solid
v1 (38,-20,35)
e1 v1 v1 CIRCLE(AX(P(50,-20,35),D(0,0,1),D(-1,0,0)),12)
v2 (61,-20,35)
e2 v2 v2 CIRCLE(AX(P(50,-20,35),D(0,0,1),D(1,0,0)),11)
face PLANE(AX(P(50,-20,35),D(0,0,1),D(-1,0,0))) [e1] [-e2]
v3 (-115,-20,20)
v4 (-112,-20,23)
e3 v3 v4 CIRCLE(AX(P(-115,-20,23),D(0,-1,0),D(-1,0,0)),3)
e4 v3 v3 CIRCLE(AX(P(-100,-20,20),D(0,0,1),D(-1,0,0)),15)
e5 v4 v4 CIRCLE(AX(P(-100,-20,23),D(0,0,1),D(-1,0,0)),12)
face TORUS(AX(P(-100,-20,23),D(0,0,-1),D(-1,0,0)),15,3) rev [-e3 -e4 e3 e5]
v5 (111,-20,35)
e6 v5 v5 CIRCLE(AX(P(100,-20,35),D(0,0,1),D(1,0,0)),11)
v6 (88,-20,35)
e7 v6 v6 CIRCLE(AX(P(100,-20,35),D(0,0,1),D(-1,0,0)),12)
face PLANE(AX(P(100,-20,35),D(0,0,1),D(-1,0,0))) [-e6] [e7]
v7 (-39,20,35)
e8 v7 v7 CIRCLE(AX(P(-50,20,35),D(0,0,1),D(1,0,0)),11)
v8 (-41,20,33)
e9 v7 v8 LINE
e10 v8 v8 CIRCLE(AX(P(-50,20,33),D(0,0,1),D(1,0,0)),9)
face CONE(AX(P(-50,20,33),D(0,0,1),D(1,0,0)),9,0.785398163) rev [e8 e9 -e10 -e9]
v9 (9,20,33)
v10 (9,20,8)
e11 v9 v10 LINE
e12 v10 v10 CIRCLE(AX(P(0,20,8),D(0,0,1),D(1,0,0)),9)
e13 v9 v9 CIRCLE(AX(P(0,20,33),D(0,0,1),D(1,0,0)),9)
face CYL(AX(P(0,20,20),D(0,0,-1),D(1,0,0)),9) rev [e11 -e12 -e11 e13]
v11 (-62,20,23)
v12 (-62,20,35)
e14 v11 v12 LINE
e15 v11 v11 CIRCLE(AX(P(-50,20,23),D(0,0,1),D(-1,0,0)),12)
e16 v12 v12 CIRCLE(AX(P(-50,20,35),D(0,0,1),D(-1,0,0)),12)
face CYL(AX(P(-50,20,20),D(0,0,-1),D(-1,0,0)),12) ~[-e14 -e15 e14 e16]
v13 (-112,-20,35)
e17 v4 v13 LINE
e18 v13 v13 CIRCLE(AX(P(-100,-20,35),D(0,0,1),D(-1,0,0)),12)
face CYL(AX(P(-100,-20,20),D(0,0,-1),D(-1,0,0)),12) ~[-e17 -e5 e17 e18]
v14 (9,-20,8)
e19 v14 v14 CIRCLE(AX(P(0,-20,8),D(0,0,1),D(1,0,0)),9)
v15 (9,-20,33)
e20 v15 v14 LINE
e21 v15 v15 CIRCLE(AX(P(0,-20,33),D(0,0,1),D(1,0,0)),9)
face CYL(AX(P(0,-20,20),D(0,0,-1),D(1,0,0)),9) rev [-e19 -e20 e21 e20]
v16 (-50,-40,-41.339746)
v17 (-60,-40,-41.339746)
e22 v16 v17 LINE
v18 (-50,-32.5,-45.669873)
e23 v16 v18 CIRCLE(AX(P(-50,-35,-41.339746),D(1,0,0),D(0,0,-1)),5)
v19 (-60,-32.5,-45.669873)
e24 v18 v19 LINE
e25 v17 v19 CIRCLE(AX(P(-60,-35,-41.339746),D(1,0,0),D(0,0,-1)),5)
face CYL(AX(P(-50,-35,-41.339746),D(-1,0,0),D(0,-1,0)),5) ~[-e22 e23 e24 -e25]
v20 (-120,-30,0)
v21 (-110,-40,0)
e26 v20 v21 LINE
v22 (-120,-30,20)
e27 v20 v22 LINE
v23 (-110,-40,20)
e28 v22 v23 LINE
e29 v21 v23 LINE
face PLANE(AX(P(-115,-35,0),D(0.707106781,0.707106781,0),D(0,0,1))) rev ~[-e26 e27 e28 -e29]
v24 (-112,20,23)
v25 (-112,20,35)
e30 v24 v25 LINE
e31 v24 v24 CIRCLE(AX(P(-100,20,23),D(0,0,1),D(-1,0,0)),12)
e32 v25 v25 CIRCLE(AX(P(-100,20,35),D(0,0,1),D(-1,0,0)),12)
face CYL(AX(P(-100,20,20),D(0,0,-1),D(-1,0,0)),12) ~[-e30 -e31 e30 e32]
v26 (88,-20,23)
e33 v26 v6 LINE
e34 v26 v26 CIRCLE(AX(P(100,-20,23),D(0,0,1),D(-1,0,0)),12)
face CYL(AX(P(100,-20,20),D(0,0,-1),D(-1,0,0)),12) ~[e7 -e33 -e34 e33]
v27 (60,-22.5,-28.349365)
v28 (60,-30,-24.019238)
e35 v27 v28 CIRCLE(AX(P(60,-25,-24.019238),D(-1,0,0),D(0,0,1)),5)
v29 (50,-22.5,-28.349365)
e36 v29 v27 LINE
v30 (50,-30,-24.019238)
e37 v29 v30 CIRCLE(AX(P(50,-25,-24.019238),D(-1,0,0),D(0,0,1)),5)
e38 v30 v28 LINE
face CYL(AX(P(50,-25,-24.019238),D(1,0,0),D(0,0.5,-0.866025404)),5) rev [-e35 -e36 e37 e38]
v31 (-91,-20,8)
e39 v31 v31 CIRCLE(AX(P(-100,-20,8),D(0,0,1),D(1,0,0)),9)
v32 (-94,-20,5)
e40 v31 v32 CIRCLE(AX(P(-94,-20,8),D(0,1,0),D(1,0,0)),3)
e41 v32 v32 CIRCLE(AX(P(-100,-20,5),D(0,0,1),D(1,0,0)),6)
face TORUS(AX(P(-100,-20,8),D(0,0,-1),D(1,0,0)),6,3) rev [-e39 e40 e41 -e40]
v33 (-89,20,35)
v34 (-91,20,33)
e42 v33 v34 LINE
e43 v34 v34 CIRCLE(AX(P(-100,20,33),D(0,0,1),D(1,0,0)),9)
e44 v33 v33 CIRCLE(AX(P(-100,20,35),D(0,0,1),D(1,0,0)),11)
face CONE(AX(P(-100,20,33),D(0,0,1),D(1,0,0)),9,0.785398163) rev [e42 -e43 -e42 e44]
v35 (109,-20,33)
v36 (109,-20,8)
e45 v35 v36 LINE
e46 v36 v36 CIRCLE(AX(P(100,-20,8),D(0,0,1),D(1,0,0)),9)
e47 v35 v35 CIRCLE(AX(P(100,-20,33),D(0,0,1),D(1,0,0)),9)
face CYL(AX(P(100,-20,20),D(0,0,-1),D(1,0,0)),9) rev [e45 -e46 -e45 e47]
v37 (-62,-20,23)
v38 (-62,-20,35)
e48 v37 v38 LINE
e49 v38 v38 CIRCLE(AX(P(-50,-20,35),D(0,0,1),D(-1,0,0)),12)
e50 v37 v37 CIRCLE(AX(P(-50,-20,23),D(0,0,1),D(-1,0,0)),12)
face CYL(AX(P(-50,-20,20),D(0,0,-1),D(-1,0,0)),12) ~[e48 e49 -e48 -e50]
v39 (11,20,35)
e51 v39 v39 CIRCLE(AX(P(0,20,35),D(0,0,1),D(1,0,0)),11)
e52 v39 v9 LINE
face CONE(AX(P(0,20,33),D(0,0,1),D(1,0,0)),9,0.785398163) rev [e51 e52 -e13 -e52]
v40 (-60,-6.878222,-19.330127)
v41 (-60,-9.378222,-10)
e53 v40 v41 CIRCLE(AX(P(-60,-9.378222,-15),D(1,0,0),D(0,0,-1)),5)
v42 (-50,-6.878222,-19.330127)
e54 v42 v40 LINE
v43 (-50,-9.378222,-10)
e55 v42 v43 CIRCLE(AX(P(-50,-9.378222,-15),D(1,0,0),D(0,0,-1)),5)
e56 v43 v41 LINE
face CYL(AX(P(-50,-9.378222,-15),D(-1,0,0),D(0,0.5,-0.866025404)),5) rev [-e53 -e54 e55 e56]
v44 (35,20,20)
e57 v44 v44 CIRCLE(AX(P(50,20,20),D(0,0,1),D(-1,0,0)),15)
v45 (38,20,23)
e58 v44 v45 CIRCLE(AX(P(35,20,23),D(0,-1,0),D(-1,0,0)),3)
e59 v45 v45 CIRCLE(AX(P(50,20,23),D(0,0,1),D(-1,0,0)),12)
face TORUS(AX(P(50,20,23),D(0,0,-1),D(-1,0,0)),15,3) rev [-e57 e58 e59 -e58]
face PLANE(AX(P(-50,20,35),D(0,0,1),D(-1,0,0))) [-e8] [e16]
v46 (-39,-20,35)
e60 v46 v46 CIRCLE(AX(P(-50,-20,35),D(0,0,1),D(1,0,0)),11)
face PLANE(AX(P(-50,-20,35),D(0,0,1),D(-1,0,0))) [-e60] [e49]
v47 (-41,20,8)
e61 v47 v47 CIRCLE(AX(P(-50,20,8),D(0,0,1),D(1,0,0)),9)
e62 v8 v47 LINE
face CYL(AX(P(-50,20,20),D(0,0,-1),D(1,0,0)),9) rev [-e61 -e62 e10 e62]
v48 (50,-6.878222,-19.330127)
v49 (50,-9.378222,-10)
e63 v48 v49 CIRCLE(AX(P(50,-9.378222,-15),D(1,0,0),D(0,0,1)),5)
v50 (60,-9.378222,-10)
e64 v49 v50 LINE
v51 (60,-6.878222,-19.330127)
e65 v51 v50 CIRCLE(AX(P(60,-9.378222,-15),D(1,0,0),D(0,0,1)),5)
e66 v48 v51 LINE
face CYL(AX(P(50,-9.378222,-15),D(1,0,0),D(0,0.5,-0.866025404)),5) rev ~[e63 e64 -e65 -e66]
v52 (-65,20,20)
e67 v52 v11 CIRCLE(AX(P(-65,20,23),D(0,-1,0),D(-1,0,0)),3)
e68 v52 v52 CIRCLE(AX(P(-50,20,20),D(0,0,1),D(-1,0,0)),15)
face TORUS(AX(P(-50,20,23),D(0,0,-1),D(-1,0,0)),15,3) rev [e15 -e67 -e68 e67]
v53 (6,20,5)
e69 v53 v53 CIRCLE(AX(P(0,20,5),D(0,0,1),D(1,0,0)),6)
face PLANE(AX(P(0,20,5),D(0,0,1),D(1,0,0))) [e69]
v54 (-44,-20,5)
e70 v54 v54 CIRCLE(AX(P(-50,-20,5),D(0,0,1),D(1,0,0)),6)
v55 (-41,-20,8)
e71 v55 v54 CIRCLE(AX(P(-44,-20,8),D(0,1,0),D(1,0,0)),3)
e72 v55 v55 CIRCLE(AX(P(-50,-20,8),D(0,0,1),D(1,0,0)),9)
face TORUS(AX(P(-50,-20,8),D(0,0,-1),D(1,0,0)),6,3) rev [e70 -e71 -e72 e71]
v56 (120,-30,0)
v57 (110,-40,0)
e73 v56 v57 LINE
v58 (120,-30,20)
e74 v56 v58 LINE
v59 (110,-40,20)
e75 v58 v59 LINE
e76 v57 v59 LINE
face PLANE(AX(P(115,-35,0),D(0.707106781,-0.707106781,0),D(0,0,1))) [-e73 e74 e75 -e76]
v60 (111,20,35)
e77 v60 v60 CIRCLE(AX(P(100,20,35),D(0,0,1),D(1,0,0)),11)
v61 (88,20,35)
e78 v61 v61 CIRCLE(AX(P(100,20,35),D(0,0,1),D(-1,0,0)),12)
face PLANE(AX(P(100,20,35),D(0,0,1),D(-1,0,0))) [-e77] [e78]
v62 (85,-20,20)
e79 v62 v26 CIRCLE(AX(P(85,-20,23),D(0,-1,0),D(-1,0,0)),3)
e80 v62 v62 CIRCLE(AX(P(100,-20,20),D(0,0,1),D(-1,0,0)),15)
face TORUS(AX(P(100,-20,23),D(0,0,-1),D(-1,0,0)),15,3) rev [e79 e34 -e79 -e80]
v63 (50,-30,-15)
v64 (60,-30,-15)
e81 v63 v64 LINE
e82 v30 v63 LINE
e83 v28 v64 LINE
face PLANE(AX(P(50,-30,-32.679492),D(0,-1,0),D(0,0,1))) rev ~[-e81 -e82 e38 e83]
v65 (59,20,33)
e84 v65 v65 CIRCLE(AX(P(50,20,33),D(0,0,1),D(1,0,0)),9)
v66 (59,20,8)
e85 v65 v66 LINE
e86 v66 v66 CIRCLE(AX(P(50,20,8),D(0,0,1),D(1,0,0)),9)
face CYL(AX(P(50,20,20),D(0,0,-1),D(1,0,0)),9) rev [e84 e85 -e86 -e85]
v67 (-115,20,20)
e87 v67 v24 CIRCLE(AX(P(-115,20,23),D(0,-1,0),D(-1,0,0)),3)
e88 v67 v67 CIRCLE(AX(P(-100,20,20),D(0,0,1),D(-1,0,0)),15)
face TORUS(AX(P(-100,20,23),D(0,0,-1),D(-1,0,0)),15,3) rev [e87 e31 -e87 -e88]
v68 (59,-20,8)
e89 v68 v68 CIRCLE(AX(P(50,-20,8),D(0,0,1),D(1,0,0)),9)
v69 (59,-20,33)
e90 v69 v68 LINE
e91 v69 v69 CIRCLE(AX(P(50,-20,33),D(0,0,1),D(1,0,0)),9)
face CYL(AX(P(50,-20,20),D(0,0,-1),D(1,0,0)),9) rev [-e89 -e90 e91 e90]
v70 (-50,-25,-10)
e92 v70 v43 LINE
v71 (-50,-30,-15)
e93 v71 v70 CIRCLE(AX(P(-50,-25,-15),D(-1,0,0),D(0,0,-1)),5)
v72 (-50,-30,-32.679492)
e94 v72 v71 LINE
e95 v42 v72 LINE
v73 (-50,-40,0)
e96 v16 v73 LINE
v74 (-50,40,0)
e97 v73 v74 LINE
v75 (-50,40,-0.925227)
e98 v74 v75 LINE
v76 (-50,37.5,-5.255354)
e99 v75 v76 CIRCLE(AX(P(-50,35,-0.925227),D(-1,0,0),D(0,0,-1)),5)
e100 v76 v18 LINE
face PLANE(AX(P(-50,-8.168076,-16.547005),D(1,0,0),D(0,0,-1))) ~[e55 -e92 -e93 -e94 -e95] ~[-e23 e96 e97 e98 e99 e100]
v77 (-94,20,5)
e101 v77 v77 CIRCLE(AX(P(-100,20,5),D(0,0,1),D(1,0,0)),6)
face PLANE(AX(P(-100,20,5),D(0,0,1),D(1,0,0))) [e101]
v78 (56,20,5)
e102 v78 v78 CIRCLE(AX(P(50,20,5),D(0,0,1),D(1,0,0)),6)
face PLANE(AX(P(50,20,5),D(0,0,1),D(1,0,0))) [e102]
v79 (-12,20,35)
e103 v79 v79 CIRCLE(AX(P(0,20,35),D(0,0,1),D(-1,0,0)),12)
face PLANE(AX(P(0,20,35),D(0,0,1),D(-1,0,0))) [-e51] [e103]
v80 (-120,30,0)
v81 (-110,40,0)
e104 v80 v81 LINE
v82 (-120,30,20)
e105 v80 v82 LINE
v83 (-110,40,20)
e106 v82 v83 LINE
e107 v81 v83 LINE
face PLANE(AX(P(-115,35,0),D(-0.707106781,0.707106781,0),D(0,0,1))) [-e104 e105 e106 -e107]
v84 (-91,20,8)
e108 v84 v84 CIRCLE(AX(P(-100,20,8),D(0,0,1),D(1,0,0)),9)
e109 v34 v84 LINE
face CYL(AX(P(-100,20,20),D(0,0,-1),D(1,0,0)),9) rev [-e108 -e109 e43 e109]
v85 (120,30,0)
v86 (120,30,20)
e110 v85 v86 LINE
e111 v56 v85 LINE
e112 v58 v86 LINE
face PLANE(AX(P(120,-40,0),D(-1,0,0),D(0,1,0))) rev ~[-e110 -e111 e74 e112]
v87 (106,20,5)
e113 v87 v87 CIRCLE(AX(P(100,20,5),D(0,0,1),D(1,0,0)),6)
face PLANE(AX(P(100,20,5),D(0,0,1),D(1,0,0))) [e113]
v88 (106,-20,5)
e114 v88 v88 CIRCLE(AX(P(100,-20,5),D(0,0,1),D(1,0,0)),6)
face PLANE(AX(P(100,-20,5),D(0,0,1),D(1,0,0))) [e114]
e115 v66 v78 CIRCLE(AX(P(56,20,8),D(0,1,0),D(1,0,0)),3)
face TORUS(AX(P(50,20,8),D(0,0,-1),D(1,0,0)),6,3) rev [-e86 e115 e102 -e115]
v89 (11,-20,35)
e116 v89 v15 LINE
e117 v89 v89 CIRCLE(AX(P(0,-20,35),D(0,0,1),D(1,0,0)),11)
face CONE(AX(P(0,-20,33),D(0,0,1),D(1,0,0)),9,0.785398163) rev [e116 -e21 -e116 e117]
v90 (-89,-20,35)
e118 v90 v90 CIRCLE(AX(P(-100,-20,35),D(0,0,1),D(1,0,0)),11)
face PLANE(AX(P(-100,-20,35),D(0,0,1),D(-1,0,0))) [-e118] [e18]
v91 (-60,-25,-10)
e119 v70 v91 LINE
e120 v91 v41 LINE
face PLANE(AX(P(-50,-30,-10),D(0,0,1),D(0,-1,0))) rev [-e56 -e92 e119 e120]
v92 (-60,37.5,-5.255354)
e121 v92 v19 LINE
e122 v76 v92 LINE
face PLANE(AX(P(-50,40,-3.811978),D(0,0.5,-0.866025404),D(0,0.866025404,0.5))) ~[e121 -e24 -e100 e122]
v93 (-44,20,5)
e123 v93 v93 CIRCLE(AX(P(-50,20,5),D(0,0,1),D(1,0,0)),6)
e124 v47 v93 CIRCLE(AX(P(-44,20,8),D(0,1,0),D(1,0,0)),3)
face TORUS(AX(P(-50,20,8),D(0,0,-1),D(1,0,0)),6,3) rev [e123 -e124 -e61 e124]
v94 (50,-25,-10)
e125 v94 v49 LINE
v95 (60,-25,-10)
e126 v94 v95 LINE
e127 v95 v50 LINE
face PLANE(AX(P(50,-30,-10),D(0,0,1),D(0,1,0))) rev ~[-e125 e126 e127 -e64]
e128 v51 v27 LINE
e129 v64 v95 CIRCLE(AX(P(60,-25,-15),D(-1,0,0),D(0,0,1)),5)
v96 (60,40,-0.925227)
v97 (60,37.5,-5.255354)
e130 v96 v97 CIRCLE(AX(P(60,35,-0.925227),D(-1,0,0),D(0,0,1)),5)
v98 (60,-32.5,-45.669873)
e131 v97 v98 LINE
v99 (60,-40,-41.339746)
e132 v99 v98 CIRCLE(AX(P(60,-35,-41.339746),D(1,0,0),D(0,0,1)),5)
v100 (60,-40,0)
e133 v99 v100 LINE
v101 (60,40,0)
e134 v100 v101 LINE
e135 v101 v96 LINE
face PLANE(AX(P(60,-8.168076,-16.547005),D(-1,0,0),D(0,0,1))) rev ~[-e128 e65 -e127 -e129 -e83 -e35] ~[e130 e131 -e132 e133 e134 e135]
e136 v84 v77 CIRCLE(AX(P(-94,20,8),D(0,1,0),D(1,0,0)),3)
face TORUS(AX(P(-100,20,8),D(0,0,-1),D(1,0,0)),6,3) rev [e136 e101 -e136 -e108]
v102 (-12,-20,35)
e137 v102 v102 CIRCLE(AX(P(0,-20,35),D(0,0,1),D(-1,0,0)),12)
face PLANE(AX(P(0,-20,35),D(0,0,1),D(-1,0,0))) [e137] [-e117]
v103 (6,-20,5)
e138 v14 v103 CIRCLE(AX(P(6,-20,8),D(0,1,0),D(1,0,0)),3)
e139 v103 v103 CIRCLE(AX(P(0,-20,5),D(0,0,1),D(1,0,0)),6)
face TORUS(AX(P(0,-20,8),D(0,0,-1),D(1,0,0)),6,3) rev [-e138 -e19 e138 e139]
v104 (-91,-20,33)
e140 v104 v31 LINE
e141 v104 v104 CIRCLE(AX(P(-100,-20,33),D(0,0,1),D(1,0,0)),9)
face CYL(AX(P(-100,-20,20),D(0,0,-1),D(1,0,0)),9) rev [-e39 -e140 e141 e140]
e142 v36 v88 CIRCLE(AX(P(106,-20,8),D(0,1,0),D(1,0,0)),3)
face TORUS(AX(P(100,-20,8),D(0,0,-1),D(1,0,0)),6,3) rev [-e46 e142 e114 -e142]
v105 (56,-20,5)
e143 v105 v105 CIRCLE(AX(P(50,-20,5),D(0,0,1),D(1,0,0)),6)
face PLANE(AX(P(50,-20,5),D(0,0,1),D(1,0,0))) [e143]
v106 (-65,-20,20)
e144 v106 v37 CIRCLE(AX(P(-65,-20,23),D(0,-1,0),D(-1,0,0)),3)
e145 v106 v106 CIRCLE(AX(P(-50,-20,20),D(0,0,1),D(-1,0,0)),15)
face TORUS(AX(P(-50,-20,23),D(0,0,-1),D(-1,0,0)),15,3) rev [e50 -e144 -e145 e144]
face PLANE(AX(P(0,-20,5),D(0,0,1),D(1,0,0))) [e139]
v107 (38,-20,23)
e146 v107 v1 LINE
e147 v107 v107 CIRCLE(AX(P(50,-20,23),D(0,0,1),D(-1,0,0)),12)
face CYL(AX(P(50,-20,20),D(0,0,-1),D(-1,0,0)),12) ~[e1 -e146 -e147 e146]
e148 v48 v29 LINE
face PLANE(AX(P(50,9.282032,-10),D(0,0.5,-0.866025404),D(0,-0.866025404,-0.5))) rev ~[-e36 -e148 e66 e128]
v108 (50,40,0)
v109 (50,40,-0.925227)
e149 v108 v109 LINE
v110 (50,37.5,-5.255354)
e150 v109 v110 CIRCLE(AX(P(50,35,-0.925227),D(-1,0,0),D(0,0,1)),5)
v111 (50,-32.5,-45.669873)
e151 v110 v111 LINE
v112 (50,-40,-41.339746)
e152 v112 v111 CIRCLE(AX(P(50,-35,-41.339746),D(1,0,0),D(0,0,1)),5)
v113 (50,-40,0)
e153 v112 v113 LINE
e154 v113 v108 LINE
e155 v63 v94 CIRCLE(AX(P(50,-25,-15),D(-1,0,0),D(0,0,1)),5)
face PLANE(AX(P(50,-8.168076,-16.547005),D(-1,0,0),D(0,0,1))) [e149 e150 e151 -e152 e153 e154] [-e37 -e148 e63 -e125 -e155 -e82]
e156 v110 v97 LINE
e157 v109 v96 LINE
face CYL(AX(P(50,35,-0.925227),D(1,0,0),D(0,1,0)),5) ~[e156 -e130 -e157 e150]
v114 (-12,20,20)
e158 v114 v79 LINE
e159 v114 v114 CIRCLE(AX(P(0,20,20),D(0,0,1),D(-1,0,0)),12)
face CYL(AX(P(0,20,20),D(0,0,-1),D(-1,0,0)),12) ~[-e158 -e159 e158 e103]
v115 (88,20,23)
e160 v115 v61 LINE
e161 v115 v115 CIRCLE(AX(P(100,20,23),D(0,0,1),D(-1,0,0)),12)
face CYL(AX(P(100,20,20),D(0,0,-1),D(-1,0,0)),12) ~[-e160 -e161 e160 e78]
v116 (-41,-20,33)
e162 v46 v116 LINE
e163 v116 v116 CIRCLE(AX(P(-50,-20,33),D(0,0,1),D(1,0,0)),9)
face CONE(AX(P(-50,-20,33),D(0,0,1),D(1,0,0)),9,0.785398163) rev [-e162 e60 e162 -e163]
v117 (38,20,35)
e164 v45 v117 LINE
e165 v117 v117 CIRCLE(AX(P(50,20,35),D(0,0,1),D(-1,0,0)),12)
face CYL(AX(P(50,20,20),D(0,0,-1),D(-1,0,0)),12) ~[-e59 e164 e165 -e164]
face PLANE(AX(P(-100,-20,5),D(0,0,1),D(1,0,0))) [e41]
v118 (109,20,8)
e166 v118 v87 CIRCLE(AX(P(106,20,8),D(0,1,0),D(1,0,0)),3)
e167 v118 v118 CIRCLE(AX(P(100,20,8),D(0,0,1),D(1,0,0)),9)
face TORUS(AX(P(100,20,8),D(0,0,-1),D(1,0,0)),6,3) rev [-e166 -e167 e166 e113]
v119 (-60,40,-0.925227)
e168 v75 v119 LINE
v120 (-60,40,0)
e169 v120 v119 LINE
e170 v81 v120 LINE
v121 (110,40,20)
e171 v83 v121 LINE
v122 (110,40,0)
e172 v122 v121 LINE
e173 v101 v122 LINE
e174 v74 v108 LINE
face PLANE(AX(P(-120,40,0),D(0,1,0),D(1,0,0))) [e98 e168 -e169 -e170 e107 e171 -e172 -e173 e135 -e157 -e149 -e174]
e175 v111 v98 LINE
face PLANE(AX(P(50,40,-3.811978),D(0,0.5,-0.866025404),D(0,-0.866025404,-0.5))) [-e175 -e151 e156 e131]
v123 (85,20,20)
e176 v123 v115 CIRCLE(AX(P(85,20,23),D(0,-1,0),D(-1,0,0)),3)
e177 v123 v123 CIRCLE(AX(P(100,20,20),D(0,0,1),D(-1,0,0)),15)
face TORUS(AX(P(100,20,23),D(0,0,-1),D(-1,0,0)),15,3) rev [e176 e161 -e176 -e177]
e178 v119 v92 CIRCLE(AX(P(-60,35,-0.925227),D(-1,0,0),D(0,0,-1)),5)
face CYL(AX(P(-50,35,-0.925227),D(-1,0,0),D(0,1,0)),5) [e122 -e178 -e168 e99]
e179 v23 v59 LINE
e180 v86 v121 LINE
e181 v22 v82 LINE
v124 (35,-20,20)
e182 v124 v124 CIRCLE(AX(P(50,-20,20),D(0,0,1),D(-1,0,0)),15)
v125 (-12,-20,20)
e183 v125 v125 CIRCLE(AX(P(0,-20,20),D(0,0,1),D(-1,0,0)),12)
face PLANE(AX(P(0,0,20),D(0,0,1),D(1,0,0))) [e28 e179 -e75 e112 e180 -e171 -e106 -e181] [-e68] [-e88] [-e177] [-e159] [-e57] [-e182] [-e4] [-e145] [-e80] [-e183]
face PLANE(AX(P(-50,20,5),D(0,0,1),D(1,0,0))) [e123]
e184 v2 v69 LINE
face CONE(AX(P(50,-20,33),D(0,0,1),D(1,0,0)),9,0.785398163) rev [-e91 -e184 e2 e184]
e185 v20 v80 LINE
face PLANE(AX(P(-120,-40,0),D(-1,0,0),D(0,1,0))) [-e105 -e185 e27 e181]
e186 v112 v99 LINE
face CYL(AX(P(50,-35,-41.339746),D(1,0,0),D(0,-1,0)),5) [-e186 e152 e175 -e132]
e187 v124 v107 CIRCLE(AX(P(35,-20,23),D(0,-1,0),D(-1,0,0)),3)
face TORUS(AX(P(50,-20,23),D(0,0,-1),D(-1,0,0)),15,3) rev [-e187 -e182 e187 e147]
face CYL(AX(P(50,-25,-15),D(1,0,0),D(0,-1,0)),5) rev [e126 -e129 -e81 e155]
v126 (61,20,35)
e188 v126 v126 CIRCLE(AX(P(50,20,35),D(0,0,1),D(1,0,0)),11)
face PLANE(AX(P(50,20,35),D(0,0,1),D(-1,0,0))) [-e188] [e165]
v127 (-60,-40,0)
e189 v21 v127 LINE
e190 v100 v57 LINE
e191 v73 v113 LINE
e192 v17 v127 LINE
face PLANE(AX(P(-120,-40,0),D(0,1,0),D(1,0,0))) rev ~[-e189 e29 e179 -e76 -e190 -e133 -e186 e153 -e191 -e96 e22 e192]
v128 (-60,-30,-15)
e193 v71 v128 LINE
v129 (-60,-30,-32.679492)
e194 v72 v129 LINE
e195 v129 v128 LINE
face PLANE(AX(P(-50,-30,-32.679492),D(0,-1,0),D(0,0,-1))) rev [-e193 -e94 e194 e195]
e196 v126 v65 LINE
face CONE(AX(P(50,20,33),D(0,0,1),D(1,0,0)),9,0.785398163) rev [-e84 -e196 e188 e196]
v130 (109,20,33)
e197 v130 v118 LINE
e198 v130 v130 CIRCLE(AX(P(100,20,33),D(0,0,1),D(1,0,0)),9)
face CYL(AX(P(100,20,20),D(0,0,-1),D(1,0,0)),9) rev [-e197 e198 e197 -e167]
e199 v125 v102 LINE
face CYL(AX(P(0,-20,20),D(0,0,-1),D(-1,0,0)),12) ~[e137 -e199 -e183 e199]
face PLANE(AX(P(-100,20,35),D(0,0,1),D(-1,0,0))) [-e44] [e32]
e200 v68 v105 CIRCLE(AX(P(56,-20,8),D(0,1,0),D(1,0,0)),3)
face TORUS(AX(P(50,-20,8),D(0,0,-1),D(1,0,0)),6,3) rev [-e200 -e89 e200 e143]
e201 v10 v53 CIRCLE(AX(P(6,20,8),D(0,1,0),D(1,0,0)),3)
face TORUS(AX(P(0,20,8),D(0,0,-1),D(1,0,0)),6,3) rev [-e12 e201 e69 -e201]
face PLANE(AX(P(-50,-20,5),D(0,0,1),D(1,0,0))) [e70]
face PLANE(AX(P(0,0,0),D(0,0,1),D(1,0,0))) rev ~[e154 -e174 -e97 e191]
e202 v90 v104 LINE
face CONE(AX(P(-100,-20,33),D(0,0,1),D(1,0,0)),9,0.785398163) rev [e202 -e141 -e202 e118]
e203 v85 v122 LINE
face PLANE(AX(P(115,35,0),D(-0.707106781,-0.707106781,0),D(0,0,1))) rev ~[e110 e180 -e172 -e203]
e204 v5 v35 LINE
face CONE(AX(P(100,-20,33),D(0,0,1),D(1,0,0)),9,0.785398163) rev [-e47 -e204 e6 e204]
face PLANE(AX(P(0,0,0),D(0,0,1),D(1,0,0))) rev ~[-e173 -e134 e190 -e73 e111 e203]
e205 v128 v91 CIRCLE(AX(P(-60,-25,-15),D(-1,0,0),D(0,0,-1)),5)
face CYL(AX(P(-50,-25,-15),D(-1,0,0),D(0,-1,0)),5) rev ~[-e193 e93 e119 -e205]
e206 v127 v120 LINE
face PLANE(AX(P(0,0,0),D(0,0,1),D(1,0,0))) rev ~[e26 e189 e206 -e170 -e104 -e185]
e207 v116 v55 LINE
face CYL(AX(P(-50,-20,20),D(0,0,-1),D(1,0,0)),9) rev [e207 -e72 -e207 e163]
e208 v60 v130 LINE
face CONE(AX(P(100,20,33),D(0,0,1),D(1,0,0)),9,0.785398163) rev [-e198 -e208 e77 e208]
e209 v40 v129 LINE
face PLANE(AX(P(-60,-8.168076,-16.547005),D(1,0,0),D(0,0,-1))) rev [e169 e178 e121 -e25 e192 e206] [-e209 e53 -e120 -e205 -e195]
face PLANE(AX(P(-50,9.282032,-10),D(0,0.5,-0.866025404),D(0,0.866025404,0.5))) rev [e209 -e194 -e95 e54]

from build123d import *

# Parameters (mm, degrees)
SKETCH_1_W          = 240
SKETCH_1_H          = 80
EXTRUDE_1_DEPTH     = 20
SKETCH_2_R          = 12
SKETCH_2_R_2        = 9
EXTRUDE_2_DEPTH     = 15
CUT_EXTRUDE_START   = -15
SKETCH_3_R          = 9
CUT_EXTRUDE_1_DEPTH = 15
CHAMFER_1_SIZE      = 10
FILLET_1_R          = 3
CHAMFER_2_SIZE      = 2
EXTRUDE_START       = 50
EXTRUDE_3_DEPTH     = 10
FILLET_2_R          = 5


with BuildPart() as part:
    # 草图1 → 凸台-拉伸1 (new body)
    with BuildSketch(Plane.XY):
        Rectangle(SKETCH_1_W, SKETCH_1_H)
    extrude(amount=EXTRUDE_1_DEPTH)

    # 草图2 → 凸台-拉伸2 (add)
    # profile 1 of 10: a face of its own
    with BuildSketch(Plane.XY.offset(20)):
        with Locations(Location((-100, 20, 0), (0, 0, 180))):
            Circle(SKETCH_2_R)
        with Locations((-100, 20)):
            Circle(SKETCH_2_R_2, mode=Mode.SUBTRACT)
    # profile 2 of 10: a face of its own
    with BuildSketch(Plane.XY.offset(20)):
        with Locations(Location((-50, 20, 0), (0, 0, 180))):
            Circle(SKETCH_2_R)
        with Locations((-50, 20)):
            Circle(SKETCH_2_R_2, mode=Mode.SUBTRACT)
    # profile 3 of 10: a face of its own
    with BuildSketch(Plane.XY.offset(20)):
        with Locations(Location((0, 20, 0), (0, 0, 180))):
            Circle(SKETCH_2_R)
        with Locations((0, 20)):
            Circle(SKETCH_2_R_2, mode=Mode.SUBTRACT)
    # profile 4 of 10: a face of its own
    with BuildSketch(Plane.XY.offset(20)):
        with Locations(Location((50, 20, 0), (0, 0, 180))):
            Circle(SKETCH_2_R)
        with Locations((50, 20)):
            Circle(SKETCH_2_R_2, mode=Mode.SUBTRACT)
    # profile 5 of 10: a face of its own
    with BuildSketch(Plane.XY.offset(20)):
        with Locations(Location((100, 20, 0), (0, 0, 180))):
            Circle(SKETCH_2_R)
        with Locations((100, 20)):
            Circle(SKETCH_2_R_2, mode=Mode.SUBTRACT)
    # profile 6 of 10: a face of its own
    with BuildSketch(Plane.XY.offset(20)):
        with Locations(Location((-50, -20, 0), (0, 0, 180))):
            Circle(SKETCH_2_R)
        with Locations((-50, -20)):
            Circle(SKETCH_2_R_2, mode=Mode.SUBTRACT)
    # profile 7 of 10: a face of its own
    with BuildSketch(Plane.XY.offset(20)):
        with Locations(Location((0, -20, 0), (0, 0, 180))):
            Circle(SKETCH_2_R)
        with Locations((0, -20)):
            Circle(SKETCH_2_R_2, mode=Mode.SUBTRACT)
    # profile 8 of 10: a face of its own
    with BuildSketch(Plane.XY.offset(20)):
        with Locations(Location((50, -20, 0), (0, 0, 180))):
            Circle(SKETCH_2_R)
        with Locations((50, -20)):
            Circle(SKETCH_2_R_2, mode=Mode.SUBTRACT)
    # profile 9 of 10: a face of its own
    with BuildSketch(Plane.XY.offset(20)):
        with Locations(Location((100, -20, 0), (0, 0, 180))):
            Circle(SKETCH_2_R)
        with Locations((100, -20)):
            Circle(SKETCH_2_R_2, mode=Mode.SUBTRACT)
    # profile 10 of 10: a face of its own
    with BuildSketch(Plane.XY.offset(20)):
        with Locations(Location((-100, -20, 0), (0, 0, 180))):
            Circle(SKETCH_2_R)
        with Locations((-100, -20)):
            Circle(SKETCH_2_R_2, mode=Mode.SUBTRACT)
    extrude(amount=EXTRUDE_2_DEPTH)

    # 草图3 → 切除-拉伸1 (cut)
    with BuildSketch(Plane.XY.offset(20).offset(CUT_EXTRUDE_START)):
        with Locations((-100, 20)):
            Circle(SKETCH_3_R)
        with Locations((-50, 20)):
            Circle(SKETCH_3_R)
        with Locations((0, 20)):
            Circle(SKETCH_3_R)
        with Locations((50, 20)):
            Circle(SKETCH_3_R)
        with Locations((100, 20)):
            Circle(SKETCH_3_R)
        with Locations((-50, -20)):
            Circle(SKETCH_3_R)
        with Locations((0, -20)):
            Circle(SKETCH_3_R)
        with Locations((50, -20)):
            Circle(SKETCH_3_R)
        with Locations((100, -20)):
            Circle(SKETCH_3_R)
        with Locations((-100, -20)):
            Circle(SKETCH_3_R)
    extrude(amount=CUT_EXTRUDE_1_DEPTH, mode=Mode.SUBTRACT)

    # 倒角1
    chamfer_1_edges = [part.edges().sort_by_distance(p)[0] for p in [
        (120, -40, 10),
        (-120, -40, 10),
        (-120, 40, 10),
        (120, 40, 10),
    ]]
    chamfer(chamfer_1_edges, length=CHAMFER_1_SIZE)

    # 圆角1
    fillet_1_edges = [part.edges().sort_by_distance(p)[0] for p in [
        (-109, 20, 5),
        (-38, 20, 20),
        (-88, 20, 20),
        (62, 20, 20),
        (112, 20, 20),
        (-38, -20, 20),
        (62, -20, 20),
        (112, -20, 20),
        (-88, -20, 20),
        (-109, -20, 5),
        (91, -20, 5),
        (41, -20, 5),
        (-9, -20, 5),
        (-59, -20, 5),
        (91, 20, 5),
        (41, 20, 5),
        (-9, 20, 5),
        (-59, 20, 5),
    ]]
    fillet(fillet_1_edges, radius=FILLET_1_R)

    # 倒角2
    chamfer_2_edges = [part.edges().sort_by_distance(p)[0] for p in [
        (-59, 20, 35),
        (-109, 20, 35),
        (-9, 20, 35),
        (41, 20, 35),
        (91, 20, 35),
        (-59, -20, 35),
        (-9, -20, 35),
        (41, -20, 35),
        (91, -20, 35),
        (-109, -20, 35),
    ]]
    chamfer(chamfer_2_edges, length=CHAMFER_2_SIZE)

    # 草图4 → 凸台-拉伸3 (add)
    with BuildSketch(Plane(origin=(0, 0, 0), x_dir=(0, 0, -1), z_dir=(1, 0, 0)).offset(EXTRUDE_START)):
        Polygon((0, 40), (3.811978465, 40), (50, -40), (0, -40), align=None)
        Polygon((10, 9.282032303), (32.679491924, -30), (10, -30), align=None, mode=Mode.SUBTRACT)
    extrude_3 = extrude(amount=EXTRUDE_3_DEPTH)

    # 镜向1: 凸台-拉伸3 across plane
    add(extrude_3.mirror(Plane(origin=(0, 0, 0), x_dir=(0, 0, 1), z_dir=(1, 0, 0))))

    # 圆角2
    fillet_2_edges = [part.edges().sort_by_distance(p)[0] for p in [
        (55, -40, -50),
        (55, 40, -3.811978465),
        (55, -30, -10),
        (55, -30, -32.679491924),
        (55, 9.282032303, -10),
        (-55, 40, -3.811978465),
        (-55, -40, -50),
        (-55, 9.282032303, -10),
        (-55, -30, -10),
    ]]
    fillet(fillet_2_edges, radius=FILLET_2_R)


solid = part.part
